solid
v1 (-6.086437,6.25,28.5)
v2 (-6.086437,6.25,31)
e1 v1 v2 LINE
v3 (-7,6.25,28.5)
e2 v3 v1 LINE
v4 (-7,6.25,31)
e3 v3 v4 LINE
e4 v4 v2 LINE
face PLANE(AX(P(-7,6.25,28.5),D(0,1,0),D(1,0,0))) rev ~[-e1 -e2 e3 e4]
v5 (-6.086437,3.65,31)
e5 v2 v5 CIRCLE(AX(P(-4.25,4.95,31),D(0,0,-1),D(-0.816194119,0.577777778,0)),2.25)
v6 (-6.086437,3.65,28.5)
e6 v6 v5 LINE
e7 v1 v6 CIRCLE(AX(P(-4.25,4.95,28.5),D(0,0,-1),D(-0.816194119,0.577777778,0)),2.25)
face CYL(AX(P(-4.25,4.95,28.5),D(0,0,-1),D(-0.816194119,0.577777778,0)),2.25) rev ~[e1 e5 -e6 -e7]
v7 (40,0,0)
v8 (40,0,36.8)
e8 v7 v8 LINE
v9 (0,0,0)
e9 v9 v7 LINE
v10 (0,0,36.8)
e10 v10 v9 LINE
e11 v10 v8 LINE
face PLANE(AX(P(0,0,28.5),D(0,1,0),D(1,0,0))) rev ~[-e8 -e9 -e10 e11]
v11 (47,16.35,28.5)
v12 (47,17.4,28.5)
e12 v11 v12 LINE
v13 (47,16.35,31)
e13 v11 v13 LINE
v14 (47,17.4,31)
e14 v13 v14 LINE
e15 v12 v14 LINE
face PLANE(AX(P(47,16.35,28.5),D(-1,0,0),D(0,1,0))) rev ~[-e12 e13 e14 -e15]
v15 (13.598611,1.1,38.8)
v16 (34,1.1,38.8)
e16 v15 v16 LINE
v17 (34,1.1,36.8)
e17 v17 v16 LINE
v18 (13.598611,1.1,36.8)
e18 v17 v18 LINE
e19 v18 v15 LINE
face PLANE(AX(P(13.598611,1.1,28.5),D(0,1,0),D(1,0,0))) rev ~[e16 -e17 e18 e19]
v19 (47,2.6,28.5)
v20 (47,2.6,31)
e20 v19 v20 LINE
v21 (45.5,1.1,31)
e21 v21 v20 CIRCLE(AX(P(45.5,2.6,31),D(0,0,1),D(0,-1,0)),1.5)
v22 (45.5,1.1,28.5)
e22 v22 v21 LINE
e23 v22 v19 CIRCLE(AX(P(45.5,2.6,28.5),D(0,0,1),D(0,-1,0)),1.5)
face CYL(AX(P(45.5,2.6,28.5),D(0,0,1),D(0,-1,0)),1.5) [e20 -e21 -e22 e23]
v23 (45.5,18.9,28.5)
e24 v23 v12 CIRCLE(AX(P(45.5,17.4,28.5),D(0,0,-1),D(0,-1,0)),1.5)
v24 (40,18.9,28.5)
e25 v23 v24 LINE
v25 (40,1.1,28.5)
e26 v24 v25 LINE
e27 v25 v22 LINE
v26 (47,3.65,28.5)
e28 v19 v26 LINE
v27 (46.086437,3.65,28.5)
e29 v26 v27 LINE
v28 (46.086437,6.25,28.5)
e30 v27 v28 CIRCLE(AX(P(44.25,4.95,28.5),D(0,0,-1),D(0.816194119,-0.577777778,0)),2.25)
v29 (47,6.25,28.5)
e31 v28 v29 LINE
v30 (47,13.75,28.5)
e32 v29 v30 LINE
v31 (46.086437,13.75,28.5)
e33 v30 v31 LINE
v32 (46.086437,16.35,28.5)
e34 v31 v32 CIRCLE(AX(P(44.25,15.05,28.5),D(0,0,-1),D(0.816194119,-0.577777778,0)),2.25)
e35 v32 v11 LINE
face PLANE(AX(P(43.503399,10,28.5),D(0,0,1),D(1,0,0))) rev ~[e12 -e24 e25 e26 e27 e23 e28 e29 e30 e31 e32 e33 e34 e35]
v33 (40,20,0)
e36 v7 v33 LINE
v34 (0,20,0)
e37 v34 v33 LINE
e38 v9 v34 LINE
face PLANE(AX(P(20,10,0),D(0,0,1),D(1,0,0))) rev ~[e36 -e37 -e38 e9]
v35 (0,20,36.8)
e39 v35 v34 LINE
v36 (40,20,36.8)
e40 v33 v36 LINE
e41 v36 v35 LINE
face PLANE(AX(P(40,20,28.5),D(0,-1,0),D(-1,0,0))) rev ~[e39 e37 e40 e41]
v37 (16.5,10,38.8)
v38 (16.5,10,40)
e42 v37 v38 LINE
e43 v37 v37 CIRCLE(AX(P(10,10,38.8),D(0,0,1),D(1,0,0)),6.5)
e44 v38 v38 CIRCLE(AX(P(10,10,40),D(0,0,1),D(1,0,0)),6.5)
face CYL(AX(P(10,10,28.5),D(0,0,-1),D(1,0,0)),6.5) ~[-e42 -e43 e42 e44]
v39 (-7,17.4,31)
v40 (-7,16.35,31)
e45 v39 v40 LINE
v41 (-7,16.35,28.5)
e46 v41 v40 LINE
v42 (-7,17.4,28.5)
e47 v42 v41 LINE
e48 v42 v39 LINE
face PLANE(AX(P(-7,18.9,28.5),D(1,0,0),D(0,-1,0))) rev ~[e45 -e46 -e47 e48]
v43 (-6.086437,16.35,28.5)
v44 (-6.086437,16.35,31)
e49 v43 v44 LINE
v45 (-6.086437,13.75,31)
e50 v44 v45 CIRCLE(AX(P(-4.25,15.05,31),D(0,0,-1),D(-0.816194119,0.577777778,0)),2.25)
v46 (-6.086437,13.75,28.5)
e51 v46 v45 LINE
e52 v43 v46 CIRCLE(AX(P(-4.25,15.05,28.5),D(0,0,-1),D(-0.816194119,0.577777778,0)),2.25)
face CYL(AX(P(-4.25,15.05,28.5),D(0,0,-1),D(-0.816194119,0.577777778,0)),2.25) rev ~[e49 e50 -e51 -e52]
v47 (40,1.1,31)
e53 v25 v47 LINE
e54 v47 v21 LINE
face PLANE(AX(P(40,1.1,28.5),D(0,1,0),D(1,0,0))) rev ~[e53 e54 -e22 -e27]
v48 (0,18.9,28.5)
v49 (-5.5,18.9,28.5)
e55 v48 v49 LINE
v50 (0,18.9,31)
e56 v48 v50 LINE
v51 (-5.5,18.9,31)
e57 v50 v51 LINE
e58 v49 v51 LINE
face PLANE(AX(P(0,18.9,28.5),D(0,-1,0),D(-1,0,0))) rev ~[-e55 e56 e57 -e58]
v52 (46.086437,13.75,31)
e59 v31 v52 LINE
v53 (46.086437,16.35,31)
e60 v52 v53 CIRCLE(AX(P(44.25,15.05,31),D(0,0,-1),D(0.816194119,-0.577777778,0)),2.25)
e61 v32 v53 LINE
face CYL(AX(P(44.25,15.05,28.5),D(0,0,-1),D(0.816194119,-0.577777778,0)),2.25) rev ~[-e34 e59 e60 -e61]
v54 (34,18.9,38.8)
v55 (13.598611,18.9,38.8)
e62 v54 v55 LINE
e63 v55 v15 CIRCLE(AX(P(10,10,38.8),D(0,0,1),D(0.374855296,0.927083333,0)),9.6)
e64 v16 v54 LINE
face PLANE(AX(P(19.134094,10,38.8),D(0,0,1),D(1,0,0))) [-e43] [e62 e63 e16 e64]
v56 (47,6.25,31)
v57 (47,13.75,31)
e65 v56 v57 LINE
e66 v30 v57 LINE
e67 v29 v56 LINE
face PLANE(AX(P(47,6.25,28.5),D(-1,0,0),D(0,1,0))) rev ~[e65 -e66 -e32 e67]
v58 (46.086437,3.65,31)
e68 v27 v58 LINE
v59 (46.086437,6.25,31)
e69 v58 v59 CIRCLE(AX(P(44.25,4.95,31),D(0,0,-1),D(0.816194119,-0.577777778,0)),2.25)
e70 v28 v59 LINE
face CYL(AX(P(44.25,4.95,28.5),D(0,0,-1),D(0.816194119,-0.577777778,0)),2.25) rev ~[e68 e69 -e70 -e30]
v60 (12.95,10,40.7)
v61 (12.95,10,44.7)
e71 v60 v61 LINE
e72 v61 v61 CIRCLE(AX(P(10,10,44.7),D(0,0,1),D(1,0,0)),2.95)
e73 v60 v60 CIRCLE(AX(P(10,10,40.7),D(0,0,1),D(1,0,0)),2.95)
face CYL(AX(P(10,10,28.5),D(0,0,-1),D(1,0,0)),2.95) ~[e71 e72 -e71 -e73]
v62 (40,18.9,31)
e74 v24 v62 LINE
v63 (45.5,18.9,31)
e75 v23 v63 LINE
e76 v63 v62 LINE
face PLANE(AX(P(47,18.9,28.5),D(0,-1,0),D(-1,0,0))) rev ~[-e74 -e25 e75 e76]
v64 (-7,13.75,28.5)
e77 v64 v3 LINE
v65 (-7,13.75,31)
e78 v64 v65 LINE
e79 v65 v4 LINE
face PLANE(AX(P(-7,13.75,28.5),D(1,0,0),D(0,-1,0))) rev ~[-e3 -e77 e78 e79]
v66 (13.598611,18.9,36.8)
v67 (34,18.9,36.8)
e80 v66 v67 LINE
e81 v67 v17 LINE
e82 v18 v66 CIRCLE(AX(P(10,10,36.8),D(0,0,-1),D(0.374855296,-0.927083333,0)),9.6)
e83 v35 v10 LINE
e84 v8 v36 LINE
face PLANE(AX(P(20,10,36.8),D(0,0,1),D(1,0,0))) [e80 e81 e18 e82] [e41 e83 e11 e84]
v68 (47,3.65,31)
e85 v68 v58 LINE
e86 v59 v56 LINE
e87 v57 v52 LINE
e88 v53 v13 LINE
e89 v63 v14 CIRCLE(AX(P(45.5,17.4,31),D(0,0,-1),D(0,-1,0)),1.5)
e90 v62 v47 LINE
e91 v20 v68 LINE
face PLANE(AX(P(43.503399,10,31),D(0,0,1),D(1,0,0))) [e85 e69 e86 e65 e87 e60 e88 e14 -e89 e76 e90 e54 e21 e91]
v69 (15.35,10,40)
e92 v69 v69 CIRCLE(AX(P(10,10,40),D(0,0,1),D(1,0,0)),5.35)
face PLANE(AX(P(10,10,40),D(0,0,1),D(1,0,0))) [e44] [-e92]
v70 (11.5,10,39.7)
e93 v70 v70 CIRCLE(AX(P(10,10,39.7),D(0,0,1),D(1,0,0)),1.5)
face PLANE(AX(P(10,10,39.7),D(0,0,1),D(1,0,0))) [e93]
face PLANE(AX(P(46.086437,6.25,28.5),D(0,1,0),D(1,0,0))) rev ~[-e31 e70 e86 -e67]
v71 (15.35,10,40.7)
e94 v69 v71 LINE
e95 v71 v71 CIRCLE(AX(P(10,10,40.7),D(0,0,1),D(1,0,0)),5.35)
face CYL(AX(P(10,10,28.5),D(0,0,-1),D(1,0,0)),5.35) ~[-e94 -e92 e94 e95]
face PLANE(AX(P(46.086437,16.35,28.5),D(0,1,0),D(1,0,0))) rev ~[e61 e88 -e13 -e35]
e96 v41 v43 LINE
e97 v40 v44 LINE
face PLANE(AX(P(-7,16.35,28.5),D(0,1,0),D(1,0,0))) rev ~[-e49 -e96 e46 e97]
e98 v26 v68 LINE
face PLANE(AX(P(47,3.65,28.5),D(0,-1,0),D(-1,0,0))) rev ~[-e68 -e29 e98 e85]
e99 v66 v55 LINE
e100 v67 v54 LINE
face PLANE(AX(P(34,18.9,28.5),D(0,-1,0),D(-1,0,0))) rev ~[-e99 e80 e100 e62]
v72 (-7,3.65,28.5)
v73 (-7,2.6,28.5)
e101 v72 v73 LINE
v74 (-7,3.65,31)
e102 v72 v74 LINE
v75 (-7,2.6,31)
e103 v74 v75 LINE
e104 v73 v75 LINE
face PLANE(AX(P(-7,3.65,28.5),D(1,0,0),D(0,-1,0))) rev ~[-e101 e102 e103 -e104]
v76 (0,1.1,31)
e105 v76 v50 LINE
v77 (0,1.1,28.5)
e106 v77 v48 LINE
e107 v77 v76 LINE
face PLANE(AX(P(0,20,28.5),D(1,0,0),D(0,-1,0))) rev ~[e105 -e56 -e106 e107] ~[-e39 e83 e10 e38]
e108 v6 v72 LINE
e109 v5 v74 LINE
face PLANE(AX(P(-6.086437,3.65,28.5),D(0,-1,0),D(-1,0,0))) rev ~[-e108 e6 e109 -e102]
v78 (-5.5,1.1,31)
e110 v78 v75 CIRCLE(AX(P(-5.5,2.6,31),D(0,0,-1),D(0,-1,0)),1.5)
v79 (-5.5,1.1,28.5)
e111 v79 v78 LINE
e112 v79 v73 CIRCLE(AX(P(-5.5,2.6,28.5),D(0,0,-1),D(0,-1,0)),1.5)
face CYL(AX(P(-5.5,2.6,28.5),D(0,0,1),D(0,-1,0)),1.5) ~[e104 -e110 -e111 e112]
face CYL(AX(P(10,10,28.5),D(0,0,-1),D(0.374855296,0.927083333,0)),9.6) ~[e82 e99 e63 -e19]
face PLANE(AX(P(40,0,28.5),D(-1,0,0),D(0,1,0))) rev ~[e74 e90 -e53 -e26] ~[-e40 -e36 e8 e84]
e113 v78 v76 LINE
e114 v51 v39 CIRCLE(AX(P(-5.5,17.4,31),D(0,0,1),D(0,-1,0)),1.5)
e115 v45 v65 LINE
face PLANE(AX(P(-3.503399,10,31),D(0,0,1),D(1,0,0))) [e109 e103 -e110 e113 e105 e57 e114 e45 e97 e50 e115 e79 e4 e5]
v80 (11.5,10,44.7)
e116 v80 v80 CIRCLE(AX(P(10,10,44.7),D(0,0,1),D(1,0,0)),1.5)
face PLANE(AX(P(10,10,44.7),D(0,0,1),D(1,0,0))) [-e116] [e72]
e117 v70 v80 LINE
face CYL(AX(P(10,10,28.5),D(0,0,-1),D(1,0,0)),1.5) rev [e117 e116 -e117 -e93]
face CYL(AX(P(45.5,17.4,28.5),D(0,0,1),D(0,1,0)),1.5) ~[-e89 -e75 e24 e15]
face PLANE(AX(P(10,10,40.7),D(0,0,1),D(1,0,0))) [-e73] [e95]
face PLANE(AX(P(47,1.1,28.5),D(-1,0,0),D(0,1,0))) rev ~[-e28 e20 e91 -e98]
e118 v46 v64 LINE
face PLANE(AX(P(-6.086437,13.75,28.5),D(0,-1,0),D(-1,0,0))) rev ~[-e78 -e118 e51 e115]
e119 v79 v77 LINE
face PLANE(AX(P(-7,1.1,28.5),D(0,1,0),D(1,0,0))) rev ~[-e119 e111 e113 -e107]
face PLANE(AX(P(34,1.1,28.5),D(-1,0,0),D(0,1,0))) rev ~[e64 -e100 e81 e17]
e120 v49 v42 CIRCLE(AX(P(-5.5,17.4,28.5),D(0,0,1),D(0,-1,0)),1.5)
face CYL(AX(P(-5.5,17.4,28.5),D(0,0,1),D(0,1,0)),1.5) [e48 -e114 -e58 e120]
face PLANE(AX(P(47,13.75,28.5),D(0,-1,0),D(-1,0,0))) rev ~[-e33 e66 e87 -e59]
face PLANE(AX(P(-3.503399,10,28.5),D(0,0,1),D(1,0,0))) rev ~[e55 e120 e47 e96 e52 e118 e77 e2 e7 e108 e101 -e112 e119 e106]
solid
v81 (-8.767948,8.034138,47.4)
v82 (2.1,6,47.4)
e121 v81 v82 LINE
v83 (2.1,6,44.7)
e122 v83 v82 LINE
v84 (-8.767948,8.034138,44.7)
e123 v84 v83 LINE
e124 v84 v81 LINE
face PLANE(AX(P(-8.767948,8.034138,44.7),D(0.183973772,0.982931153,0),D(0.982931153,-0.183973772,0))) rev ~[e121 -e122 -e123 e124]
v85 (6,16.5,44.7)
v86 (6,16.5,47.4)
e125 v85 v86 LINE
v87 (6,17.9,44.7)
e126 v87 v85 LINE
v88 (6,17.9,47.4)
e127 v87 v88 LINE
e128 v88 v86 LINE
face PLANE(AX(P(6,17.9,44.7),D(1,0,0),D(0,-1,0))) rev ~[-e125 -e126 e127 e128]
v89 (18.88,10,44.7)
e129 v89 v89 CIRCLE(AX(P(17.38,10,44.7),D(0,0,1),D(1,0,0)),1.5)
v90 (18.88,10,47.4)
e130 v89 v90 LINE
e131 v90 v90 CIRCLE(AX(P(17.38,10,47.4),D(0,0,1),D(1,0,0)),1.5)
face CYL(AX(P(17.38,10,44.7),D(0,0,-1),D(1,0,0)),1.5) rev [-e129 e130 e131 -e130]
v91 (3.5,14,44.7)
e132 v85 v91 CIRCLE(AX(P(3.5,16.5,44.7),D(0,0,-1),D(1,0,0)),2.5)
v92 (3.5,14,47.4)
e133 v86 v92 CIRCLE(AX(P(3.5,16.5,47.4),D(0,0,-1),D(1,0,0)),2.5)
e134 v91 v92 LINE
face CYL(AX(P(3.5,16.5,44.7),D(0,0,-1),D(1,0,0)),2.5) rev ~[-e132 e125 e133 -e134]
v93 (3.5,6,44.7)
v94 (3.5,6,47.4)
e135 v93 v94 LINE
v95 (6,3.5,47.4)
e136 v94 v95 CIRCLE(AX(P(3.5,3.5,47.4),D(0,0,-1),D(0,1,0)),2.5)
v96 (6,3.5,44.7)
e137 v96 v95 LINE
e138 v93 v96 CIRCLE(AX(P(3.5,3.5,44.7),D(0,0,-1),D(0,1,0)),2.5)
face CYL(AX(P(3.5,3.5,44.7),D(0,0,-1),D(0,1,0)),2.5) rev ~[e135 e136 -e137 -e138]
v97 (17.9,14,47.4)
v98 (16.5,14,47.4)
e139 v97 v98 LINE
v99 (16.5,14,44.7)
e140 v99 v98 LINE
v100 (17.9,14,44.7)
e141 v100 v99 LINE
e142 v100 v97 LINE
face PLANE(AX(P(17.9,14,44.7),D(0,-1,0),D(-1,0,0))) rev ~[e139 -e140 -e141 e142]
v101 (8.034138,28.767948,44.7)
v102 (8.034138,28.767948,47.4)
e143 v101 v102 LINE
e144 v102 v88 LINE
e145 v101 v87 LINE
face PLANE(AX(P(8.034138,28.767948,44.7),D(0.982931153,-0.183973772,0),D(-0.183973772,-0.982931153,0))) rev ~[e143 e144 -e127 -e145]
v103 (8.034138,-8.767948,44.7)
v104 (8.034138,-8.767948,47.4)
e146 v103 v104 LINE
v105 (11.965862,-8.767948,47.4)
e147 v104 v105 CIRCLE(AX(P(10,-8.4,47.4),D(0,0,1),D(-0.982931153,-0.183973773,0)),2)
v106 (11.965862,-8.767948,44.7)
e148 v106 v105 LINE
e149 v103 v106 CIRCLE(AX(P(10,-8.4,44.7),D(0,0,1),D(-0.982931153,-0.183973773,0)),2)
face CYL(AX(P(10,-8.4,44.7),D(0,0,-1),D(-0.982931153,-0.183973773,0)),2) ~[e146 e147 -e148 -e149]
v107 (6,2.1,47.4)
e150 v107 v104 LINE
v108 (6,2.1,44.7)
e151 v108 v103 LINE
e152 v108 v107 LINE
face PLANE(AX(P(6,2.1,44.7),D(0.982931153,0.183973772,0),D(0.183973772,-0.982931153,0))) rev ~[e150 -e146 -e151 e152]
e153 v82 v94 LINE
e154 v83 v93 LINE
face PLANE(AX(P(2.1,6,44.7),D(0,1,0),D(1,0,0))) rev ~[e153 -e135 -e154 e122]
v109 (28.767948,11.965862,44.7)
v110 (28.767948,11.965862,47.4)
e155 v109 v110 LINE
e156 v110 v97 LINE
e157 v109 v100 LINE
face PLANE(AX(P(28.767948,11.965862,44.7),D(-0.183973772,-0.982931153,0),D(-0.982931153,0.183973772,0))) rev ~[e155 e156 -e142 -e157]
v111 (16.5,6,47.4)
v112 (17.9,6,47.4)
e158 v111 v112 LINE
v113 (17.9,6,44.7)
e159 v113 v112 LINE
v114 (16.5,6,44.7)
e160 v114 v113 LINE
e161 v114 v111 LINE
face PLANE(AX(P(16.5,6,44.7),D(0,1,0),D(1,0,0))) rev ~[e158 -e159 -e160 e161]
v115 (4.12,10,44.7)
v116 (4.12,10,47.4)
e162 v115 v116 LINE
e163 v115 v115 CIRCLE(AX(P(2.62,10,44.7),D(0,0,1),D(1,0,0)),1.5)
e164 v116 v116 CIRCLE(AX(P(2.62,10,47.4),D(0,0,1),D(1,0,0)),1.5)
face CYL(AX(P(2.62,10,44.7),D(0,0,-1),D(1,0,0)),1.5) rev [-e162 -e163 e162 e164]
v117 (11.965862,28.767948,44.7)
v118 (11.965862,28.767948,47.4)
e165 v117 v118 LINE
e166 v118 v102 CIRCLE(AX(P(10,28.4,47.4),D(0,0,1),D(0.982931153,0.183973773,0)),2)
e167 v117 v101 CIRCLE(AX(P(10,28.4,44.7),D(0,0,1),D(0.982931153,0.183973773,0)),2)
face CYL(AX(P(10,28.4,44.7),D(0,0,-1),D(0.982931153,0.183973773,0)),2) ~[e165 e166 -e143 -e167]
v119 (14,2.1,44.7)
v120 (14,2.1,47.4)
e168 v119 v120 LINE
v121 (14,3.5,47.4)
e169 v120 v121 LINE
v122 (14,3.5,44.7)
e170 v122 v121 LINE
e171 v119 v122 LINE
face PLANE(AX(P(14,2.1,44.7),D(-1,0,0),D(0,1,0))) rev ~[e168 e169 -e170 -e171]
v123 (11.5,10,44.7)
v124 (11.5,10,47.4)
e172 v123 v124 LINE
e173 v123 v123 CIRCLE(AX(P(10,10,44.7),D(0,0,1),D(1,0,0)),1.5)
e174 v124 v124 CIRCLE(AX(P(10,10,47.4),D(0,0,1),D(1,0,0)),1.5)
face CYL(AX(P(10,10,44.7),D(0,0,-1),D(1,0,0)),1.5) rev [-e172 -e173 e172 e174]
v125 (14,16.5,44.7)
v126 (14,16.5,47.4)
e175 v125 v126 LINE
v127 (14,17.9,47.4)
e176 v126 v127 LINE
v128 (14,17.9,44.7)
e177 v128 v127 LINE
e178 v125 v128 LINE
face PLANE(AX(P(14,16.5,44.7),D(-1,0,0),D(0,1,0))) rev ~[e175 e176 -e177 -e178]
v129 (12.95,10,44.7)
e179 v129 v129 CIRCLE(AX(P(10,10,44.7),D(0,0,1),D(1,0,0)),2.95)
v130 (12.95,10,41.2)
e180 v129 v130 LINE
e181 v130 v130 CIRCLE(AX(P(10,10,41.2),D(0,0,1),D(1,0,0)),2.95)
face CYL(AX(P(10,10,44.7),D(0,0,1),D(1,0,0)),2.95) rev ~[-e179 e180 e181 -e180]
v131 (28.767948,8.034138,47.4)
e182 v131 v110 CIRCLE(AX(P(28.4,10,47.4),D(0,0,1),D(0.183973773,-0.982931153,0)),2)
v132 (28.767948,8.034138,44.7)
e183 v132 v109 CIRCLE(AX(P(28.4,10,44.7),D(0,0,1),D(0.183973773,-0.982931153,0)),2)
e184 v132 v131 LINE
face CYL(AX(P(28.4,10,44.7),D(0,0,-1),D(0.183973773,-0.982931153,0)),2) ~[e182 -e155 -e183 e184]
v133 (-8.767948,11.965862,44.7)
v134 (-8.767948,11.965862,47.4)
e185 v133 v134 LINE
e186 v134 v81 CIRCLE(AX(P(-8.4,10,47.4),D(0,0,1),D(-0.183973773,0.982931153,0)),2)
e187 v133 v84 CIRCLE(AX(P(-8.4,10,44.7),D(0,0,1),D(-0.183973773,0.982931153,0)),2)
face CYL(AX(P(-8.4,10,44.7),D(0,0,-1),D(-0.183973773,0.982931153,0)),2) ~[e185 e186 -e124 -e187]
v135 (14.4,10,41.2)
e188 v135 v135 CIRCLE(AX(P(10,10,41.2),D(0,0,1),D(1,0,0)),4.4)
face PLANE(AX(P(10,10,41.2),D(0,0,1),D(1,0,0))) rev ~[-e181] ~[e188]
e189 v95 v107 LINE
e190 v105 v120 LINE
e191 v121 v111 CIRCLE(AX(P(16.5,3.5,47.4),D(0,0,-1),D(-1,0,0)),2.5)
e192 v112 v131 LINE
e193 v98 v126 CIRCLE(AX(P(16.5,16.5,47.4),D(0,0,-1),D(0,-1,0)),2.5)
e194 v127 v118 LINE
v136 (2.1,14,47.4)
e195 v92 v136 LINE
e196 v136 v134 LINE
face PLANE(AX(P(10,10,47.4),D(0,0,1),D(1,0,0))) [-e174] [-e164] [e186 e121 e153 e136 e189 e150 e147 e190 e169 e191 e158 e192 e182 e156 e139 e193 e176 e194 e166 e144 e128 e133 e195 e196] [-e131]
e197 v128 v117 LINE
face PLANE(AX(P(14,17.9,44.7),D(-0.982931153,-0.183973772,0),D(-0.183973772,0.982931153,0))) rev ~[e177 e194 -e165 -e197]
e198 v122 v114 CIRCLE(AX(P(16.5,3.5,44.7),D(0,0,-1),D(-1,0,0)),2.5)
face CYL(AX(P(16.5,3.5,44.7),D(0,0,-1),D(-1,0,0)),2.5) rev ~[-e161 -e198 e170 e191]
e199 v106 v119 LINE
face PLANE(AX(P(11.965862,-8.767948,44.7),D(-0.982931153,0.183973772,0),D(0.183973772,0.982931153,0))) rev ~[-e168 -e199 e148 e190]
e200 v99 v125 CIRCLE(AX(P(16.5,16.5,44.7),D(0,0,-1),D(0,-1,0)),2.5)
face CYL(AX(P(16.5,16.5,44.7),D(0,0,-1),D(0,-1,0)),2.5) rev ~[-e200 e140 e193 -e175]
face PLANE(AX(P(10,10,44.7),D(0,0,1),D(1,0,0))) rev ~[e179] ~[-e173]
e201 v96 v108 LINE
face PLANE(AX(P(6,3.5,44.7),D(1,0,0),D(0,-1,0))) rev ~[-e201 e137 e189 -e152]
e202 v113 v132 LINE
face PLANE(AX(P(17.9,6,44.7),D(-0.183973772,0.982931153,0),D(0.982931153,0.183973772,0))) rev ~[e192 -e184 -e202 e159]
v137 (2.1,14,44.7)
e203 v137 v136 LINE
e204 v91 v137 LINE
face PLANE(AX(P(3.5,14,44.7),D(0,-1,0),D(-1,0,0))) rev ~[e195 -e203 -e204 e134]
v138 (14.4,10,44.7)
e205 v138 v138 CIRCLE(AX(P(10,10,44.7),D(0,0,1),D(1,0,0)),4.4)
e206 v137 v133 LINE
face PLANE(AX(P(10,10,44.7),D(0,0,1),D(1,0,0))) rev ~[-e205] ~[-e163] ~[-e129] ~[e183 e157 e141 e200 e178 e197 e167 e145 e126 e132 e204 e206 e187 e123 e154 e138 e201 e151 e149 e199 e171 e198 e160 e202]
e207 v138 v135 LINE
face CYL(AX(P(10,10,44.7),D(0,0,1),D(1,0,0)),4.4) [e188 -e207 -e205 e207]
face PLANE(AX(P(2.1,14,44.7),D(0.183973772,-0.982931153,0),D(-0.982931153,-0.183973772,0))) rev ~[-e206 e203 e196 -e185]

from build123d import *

# Parameters (mm, degrees)
F0_W      = 40
F0_H      = 20
F1_DEPTH  = 28.5
F3_DEPTH  = 2.5
F2_R      = 2.95
F2_R_2    = 1.5
F4_DEPTH  = 16.2
F2_R_3    = 5.35
F5_DEPTH  = 12.2
F2_R_4    = 6.5
F6_DEPTH  = 11.5
F7_DEPTH  = 10.3
F8_DEPTH  = 8.3
F9_DEPTH  = 11.2
F10_R     = 1.5
F11_R     = 4.4
F11_R_2   = 2.95
F12_DEPTH = 3.5
F11_R_3   = 1.5
F13_DEPTH = 2.7


with BuildPart() as f1:
    # F0 (on Top) → F1 (new body)
    with BuildSketch(Plane.XY):
        with Locations((20, 10)):
            Rectangle(F0_W, F0_H)
    extrude(amount=F1_DEPTH)

    # F2 (on face) → F3 (join)
    with BuildSketch(Plane.XY.offset(28.5)):
        with BuildLine():
            Line((-7, 1.1), (0, 1.1))
            Line((0, 1.1), (0, 18.9))
            Line((0, 18.9), (-7, 18.9))
            Line((-7, 18.9), (-7, 16.35))
            Line((-7, 16.35), (-6.0864367672, 16.35))
            ThreePointArc((-6.0864367672, 16.35), (-2, 15.05), (-6.0864367672, 13.75))
            Line((-6.0864367672, 13.75), (-7, 13.75))
            Line((-7, 13.75), (-7, 10))
            Line((-7, 10), (-7, 6.25))
            Line((-7, 6.25), (-6.0864367672, 6.25))
            ThreePointArc((-6.0864367672, 6.25), (-2, 4.95), (-6.0864367672, 3.65))
            Line((-6.0864367672, 3.65), (-7, 3.65))
            Line((-7, 3.65), (-7, 1.1))
        make_face()
        with BuildLine():
            Line((40, 18.9), (40, 1.1))
            Line((40, 1.1), (47, 1.1))
            Line((47, 1.1), (47, 3.65))
            Line((47, 3.65), (46.0864367672, 3.65))
            ThreePointArc((46.0864367672, 3.65), (42, 4.95), (46.0864367672, 6.25))
            Line((46.0864367672, 6.25), (47, 6.25))
            Line((47, 6.25), (47, 10))
            Line((47, 10), (47, 13.75))
            Line((47, 13.75), (46.0864367672, 13.75))
            ThreePointArc((46.0864367672, 13.75), (42, 15.05), (46.0864367672, 16.35))
            Line((46.0864367672, 16.35), (47, 16.35))
            Line((47, 16.35), (47, 18.9))
            Line((47, 18.9), (40, 18.9))
        make_face()
    extrude(amount=F3_DEPTH)

    # F2 (on face) → F4 (join)
    with BuildSketch(Plane.XY.offset(28.5)):
        with Locations((10, 10)):
            Circle(F2_R)
        with Locations((10, 10)):
            Circle(F2_R_2, mode=Mode.SUBTRACT)
    extrude(amount=F4_DEPTH)

    # F2 (on face) → F5 (join)
    with BuildSketch(Plane.XY.offset(28.5)):
        with Locations((10, 10)):
            Circle(F2_R_3)
        with Locations((10, 10)):
            Circle(F2_R, mode=Mode.SUBTRACT)
    extrude(amount=F5_DEPTH)

    # F2 (on face) → F6 (join)
    with BuildSketch(Plane.XY.offset(28.5)):
        with Locations((10, 10)):
            Circle(F2_R_4)
        with Locations((10, 10)):
            Circle(F2_R_3, mode=Mode.SUBTRACT)
    extrude(amount=F6_DEPTH)

    # F2 (on face) → F7 (join)
    with BuildSketch(Plane.XY.offset(28.5)):
        with BuildLine():
            Line((34, 18.9), (13.5986108431, 18.9))
            ThreePointArc((13.5986108431, 18.9), (0.4, 10), (13.5986108431, 1.1))
            Line((13.5986108431, 1.1), (34, 1.1))
            Line((34, 1.1), (34, 18.9))
        make_face()
        with Locations((10, 10)):
            Circle(F2_R_4, mode=Mode.SUBTRACT)
    extrude(amount=F7_DEPTH)

    # F2 (on face) → F8 (join)
    with BuildSketch(Plane.XY.offset(28.5)):
        Polygon((0, 1.1), (0, 0), (40, 0), (40, 1.1), (40, 18.9), (40, 20), (20, 20), (0, 20), (0, 18.9), align=None)
        with BuildLine():
            ThreePointArc((13.5986108431, 1.1), (0.4, 10), (13.5986108431, 18.9))
            Line((13.5986108431, 18.9), (34, 18.9))
            Line((34, 18.9), (34, 1.1))
            Line((34, 1.1), (13.5986108431, 1.1))
        make_face(mode=Mode.SUBTRACT)
    extrude(amount=F8_DEPTH)

    # F2 (on face) → F9 (join)
    with BuildSketch(Plane.XY.offset(28.5)):
        with Locations((10, 10)):
            Circle(F2_R_2)
    extrude(amount=F9_DEPTH)

    # F10
    f10_edges = [f1.edges().sort_by_distance(p)[0] for p in [
        (-7, 1.1, 29.75),
        (-7, 18.9, 29.75),
        (47, 1.1, 29.75),
        (47, 18.9, 29.75),
    ]]
    fillet(f10_edges, radius=F10_R)


with BuildPart() as f12:
    # F11 (on face) → F12 (new body)
    with BuildSketch(Plane.XY.offset(44.7)):
        with Locations((10, 10)):
            Circle(F11_R)
        with Locations((10, 10)):
            Circle(F11_R_2, mode=Mode.SUBTRACT)
    extrude(amount=-F12_DEPTH)

    # F11 (on face) → F13 (join)
    with BuildSketch(Plane.XY.offset(44.7)):
        with BuildLine():
            Line((17.9, 14), (16.5, 14))
            ThreePointArc((16.5, 14), (14.732233047, 14.732233047), (14, 16.5))
            Line((14, 16.5), (14, 17.9))
            Line((14, 17.9), (11.9658623055, 28.767947545))
            ThreePointArc((11.9658623055, 28.767947545), (10, 30.4), (8.0341376945, 28.767947545))
            Line((8.0341376945, 28.767947545), (6, 17.9))
            Line((6, 17.9), (6, 16.5))
            ThreePointArc((6, 16.5), (5.267766953, 14.732233047), (3.5, 14))
            Line((3.5, 14), (2.1, 14))
            Line((2.1, 14), (-8.767947545, 11.9658623055))
            ThreePointArc((-8.767947545, 11.9658623055), (-10.4, 10), (-8.767947545, 8.0341376945))
            Line((-8.767947545, 8.0341376945), (2.1, 6))
            Line((2.1, 6), (3.5, 6))
            ThreePointArc((3.5, 6), (5.267766953, 5.267766953), (6, 3.5))
            Line((6, 3.5), (6, 2.1))
            Line((6, 2.1), (8.0341376945, -8.767947545))
            ThreePointArc((8.0341376945, -8.767947545), (10, -10.4), (11.9658623055, -8.767947545))
            Line((11.9658623055, -8.767947545), (14, 2.1))
            Line((14, 2.1), (14, 3.5))
            ThreePointArc((14, 3.5), (14.732233047, 5.267766953), (16.5, 6))
            Line((16.5, 6), (17.9, 6))
            Line((17.9, 6), (28.767947545, 8.0341376945))
            ThreePointArc((28.767947545, 8.0341376945), (30.4, 10), (28.767947545, 11.9658623055))
            Line((28.767947545, 11.9658623055), (17.9, 14))
        make_face()
        with Locations((2.62, 10)):
            Circle(F11_R_3, mode=Mode.SUBTRACT)
        with Locations((10, 10)):
            Circle(F11_R, mode=Mode.SUBTRACT)
        with Locations((17.38, 10)):
            Circle(F11_R_3, mode=Mode.SUBTRACT)
        with Locations((10, 10)):
            Circle(F11_R)
        with Locations((10, 10)):
            Circle(F11_R_2, mode=Mode.SUBTRACT)
        with Locations((10, 10)):
            Circle(F11_R_2)
        with Locations((10, 10)):
            Circle(F11_R_3, mode=Mode.SUBTRACT)
    extrude(amount=F13_DEPTH)


solid = Compound([f1.part, f12.part])
